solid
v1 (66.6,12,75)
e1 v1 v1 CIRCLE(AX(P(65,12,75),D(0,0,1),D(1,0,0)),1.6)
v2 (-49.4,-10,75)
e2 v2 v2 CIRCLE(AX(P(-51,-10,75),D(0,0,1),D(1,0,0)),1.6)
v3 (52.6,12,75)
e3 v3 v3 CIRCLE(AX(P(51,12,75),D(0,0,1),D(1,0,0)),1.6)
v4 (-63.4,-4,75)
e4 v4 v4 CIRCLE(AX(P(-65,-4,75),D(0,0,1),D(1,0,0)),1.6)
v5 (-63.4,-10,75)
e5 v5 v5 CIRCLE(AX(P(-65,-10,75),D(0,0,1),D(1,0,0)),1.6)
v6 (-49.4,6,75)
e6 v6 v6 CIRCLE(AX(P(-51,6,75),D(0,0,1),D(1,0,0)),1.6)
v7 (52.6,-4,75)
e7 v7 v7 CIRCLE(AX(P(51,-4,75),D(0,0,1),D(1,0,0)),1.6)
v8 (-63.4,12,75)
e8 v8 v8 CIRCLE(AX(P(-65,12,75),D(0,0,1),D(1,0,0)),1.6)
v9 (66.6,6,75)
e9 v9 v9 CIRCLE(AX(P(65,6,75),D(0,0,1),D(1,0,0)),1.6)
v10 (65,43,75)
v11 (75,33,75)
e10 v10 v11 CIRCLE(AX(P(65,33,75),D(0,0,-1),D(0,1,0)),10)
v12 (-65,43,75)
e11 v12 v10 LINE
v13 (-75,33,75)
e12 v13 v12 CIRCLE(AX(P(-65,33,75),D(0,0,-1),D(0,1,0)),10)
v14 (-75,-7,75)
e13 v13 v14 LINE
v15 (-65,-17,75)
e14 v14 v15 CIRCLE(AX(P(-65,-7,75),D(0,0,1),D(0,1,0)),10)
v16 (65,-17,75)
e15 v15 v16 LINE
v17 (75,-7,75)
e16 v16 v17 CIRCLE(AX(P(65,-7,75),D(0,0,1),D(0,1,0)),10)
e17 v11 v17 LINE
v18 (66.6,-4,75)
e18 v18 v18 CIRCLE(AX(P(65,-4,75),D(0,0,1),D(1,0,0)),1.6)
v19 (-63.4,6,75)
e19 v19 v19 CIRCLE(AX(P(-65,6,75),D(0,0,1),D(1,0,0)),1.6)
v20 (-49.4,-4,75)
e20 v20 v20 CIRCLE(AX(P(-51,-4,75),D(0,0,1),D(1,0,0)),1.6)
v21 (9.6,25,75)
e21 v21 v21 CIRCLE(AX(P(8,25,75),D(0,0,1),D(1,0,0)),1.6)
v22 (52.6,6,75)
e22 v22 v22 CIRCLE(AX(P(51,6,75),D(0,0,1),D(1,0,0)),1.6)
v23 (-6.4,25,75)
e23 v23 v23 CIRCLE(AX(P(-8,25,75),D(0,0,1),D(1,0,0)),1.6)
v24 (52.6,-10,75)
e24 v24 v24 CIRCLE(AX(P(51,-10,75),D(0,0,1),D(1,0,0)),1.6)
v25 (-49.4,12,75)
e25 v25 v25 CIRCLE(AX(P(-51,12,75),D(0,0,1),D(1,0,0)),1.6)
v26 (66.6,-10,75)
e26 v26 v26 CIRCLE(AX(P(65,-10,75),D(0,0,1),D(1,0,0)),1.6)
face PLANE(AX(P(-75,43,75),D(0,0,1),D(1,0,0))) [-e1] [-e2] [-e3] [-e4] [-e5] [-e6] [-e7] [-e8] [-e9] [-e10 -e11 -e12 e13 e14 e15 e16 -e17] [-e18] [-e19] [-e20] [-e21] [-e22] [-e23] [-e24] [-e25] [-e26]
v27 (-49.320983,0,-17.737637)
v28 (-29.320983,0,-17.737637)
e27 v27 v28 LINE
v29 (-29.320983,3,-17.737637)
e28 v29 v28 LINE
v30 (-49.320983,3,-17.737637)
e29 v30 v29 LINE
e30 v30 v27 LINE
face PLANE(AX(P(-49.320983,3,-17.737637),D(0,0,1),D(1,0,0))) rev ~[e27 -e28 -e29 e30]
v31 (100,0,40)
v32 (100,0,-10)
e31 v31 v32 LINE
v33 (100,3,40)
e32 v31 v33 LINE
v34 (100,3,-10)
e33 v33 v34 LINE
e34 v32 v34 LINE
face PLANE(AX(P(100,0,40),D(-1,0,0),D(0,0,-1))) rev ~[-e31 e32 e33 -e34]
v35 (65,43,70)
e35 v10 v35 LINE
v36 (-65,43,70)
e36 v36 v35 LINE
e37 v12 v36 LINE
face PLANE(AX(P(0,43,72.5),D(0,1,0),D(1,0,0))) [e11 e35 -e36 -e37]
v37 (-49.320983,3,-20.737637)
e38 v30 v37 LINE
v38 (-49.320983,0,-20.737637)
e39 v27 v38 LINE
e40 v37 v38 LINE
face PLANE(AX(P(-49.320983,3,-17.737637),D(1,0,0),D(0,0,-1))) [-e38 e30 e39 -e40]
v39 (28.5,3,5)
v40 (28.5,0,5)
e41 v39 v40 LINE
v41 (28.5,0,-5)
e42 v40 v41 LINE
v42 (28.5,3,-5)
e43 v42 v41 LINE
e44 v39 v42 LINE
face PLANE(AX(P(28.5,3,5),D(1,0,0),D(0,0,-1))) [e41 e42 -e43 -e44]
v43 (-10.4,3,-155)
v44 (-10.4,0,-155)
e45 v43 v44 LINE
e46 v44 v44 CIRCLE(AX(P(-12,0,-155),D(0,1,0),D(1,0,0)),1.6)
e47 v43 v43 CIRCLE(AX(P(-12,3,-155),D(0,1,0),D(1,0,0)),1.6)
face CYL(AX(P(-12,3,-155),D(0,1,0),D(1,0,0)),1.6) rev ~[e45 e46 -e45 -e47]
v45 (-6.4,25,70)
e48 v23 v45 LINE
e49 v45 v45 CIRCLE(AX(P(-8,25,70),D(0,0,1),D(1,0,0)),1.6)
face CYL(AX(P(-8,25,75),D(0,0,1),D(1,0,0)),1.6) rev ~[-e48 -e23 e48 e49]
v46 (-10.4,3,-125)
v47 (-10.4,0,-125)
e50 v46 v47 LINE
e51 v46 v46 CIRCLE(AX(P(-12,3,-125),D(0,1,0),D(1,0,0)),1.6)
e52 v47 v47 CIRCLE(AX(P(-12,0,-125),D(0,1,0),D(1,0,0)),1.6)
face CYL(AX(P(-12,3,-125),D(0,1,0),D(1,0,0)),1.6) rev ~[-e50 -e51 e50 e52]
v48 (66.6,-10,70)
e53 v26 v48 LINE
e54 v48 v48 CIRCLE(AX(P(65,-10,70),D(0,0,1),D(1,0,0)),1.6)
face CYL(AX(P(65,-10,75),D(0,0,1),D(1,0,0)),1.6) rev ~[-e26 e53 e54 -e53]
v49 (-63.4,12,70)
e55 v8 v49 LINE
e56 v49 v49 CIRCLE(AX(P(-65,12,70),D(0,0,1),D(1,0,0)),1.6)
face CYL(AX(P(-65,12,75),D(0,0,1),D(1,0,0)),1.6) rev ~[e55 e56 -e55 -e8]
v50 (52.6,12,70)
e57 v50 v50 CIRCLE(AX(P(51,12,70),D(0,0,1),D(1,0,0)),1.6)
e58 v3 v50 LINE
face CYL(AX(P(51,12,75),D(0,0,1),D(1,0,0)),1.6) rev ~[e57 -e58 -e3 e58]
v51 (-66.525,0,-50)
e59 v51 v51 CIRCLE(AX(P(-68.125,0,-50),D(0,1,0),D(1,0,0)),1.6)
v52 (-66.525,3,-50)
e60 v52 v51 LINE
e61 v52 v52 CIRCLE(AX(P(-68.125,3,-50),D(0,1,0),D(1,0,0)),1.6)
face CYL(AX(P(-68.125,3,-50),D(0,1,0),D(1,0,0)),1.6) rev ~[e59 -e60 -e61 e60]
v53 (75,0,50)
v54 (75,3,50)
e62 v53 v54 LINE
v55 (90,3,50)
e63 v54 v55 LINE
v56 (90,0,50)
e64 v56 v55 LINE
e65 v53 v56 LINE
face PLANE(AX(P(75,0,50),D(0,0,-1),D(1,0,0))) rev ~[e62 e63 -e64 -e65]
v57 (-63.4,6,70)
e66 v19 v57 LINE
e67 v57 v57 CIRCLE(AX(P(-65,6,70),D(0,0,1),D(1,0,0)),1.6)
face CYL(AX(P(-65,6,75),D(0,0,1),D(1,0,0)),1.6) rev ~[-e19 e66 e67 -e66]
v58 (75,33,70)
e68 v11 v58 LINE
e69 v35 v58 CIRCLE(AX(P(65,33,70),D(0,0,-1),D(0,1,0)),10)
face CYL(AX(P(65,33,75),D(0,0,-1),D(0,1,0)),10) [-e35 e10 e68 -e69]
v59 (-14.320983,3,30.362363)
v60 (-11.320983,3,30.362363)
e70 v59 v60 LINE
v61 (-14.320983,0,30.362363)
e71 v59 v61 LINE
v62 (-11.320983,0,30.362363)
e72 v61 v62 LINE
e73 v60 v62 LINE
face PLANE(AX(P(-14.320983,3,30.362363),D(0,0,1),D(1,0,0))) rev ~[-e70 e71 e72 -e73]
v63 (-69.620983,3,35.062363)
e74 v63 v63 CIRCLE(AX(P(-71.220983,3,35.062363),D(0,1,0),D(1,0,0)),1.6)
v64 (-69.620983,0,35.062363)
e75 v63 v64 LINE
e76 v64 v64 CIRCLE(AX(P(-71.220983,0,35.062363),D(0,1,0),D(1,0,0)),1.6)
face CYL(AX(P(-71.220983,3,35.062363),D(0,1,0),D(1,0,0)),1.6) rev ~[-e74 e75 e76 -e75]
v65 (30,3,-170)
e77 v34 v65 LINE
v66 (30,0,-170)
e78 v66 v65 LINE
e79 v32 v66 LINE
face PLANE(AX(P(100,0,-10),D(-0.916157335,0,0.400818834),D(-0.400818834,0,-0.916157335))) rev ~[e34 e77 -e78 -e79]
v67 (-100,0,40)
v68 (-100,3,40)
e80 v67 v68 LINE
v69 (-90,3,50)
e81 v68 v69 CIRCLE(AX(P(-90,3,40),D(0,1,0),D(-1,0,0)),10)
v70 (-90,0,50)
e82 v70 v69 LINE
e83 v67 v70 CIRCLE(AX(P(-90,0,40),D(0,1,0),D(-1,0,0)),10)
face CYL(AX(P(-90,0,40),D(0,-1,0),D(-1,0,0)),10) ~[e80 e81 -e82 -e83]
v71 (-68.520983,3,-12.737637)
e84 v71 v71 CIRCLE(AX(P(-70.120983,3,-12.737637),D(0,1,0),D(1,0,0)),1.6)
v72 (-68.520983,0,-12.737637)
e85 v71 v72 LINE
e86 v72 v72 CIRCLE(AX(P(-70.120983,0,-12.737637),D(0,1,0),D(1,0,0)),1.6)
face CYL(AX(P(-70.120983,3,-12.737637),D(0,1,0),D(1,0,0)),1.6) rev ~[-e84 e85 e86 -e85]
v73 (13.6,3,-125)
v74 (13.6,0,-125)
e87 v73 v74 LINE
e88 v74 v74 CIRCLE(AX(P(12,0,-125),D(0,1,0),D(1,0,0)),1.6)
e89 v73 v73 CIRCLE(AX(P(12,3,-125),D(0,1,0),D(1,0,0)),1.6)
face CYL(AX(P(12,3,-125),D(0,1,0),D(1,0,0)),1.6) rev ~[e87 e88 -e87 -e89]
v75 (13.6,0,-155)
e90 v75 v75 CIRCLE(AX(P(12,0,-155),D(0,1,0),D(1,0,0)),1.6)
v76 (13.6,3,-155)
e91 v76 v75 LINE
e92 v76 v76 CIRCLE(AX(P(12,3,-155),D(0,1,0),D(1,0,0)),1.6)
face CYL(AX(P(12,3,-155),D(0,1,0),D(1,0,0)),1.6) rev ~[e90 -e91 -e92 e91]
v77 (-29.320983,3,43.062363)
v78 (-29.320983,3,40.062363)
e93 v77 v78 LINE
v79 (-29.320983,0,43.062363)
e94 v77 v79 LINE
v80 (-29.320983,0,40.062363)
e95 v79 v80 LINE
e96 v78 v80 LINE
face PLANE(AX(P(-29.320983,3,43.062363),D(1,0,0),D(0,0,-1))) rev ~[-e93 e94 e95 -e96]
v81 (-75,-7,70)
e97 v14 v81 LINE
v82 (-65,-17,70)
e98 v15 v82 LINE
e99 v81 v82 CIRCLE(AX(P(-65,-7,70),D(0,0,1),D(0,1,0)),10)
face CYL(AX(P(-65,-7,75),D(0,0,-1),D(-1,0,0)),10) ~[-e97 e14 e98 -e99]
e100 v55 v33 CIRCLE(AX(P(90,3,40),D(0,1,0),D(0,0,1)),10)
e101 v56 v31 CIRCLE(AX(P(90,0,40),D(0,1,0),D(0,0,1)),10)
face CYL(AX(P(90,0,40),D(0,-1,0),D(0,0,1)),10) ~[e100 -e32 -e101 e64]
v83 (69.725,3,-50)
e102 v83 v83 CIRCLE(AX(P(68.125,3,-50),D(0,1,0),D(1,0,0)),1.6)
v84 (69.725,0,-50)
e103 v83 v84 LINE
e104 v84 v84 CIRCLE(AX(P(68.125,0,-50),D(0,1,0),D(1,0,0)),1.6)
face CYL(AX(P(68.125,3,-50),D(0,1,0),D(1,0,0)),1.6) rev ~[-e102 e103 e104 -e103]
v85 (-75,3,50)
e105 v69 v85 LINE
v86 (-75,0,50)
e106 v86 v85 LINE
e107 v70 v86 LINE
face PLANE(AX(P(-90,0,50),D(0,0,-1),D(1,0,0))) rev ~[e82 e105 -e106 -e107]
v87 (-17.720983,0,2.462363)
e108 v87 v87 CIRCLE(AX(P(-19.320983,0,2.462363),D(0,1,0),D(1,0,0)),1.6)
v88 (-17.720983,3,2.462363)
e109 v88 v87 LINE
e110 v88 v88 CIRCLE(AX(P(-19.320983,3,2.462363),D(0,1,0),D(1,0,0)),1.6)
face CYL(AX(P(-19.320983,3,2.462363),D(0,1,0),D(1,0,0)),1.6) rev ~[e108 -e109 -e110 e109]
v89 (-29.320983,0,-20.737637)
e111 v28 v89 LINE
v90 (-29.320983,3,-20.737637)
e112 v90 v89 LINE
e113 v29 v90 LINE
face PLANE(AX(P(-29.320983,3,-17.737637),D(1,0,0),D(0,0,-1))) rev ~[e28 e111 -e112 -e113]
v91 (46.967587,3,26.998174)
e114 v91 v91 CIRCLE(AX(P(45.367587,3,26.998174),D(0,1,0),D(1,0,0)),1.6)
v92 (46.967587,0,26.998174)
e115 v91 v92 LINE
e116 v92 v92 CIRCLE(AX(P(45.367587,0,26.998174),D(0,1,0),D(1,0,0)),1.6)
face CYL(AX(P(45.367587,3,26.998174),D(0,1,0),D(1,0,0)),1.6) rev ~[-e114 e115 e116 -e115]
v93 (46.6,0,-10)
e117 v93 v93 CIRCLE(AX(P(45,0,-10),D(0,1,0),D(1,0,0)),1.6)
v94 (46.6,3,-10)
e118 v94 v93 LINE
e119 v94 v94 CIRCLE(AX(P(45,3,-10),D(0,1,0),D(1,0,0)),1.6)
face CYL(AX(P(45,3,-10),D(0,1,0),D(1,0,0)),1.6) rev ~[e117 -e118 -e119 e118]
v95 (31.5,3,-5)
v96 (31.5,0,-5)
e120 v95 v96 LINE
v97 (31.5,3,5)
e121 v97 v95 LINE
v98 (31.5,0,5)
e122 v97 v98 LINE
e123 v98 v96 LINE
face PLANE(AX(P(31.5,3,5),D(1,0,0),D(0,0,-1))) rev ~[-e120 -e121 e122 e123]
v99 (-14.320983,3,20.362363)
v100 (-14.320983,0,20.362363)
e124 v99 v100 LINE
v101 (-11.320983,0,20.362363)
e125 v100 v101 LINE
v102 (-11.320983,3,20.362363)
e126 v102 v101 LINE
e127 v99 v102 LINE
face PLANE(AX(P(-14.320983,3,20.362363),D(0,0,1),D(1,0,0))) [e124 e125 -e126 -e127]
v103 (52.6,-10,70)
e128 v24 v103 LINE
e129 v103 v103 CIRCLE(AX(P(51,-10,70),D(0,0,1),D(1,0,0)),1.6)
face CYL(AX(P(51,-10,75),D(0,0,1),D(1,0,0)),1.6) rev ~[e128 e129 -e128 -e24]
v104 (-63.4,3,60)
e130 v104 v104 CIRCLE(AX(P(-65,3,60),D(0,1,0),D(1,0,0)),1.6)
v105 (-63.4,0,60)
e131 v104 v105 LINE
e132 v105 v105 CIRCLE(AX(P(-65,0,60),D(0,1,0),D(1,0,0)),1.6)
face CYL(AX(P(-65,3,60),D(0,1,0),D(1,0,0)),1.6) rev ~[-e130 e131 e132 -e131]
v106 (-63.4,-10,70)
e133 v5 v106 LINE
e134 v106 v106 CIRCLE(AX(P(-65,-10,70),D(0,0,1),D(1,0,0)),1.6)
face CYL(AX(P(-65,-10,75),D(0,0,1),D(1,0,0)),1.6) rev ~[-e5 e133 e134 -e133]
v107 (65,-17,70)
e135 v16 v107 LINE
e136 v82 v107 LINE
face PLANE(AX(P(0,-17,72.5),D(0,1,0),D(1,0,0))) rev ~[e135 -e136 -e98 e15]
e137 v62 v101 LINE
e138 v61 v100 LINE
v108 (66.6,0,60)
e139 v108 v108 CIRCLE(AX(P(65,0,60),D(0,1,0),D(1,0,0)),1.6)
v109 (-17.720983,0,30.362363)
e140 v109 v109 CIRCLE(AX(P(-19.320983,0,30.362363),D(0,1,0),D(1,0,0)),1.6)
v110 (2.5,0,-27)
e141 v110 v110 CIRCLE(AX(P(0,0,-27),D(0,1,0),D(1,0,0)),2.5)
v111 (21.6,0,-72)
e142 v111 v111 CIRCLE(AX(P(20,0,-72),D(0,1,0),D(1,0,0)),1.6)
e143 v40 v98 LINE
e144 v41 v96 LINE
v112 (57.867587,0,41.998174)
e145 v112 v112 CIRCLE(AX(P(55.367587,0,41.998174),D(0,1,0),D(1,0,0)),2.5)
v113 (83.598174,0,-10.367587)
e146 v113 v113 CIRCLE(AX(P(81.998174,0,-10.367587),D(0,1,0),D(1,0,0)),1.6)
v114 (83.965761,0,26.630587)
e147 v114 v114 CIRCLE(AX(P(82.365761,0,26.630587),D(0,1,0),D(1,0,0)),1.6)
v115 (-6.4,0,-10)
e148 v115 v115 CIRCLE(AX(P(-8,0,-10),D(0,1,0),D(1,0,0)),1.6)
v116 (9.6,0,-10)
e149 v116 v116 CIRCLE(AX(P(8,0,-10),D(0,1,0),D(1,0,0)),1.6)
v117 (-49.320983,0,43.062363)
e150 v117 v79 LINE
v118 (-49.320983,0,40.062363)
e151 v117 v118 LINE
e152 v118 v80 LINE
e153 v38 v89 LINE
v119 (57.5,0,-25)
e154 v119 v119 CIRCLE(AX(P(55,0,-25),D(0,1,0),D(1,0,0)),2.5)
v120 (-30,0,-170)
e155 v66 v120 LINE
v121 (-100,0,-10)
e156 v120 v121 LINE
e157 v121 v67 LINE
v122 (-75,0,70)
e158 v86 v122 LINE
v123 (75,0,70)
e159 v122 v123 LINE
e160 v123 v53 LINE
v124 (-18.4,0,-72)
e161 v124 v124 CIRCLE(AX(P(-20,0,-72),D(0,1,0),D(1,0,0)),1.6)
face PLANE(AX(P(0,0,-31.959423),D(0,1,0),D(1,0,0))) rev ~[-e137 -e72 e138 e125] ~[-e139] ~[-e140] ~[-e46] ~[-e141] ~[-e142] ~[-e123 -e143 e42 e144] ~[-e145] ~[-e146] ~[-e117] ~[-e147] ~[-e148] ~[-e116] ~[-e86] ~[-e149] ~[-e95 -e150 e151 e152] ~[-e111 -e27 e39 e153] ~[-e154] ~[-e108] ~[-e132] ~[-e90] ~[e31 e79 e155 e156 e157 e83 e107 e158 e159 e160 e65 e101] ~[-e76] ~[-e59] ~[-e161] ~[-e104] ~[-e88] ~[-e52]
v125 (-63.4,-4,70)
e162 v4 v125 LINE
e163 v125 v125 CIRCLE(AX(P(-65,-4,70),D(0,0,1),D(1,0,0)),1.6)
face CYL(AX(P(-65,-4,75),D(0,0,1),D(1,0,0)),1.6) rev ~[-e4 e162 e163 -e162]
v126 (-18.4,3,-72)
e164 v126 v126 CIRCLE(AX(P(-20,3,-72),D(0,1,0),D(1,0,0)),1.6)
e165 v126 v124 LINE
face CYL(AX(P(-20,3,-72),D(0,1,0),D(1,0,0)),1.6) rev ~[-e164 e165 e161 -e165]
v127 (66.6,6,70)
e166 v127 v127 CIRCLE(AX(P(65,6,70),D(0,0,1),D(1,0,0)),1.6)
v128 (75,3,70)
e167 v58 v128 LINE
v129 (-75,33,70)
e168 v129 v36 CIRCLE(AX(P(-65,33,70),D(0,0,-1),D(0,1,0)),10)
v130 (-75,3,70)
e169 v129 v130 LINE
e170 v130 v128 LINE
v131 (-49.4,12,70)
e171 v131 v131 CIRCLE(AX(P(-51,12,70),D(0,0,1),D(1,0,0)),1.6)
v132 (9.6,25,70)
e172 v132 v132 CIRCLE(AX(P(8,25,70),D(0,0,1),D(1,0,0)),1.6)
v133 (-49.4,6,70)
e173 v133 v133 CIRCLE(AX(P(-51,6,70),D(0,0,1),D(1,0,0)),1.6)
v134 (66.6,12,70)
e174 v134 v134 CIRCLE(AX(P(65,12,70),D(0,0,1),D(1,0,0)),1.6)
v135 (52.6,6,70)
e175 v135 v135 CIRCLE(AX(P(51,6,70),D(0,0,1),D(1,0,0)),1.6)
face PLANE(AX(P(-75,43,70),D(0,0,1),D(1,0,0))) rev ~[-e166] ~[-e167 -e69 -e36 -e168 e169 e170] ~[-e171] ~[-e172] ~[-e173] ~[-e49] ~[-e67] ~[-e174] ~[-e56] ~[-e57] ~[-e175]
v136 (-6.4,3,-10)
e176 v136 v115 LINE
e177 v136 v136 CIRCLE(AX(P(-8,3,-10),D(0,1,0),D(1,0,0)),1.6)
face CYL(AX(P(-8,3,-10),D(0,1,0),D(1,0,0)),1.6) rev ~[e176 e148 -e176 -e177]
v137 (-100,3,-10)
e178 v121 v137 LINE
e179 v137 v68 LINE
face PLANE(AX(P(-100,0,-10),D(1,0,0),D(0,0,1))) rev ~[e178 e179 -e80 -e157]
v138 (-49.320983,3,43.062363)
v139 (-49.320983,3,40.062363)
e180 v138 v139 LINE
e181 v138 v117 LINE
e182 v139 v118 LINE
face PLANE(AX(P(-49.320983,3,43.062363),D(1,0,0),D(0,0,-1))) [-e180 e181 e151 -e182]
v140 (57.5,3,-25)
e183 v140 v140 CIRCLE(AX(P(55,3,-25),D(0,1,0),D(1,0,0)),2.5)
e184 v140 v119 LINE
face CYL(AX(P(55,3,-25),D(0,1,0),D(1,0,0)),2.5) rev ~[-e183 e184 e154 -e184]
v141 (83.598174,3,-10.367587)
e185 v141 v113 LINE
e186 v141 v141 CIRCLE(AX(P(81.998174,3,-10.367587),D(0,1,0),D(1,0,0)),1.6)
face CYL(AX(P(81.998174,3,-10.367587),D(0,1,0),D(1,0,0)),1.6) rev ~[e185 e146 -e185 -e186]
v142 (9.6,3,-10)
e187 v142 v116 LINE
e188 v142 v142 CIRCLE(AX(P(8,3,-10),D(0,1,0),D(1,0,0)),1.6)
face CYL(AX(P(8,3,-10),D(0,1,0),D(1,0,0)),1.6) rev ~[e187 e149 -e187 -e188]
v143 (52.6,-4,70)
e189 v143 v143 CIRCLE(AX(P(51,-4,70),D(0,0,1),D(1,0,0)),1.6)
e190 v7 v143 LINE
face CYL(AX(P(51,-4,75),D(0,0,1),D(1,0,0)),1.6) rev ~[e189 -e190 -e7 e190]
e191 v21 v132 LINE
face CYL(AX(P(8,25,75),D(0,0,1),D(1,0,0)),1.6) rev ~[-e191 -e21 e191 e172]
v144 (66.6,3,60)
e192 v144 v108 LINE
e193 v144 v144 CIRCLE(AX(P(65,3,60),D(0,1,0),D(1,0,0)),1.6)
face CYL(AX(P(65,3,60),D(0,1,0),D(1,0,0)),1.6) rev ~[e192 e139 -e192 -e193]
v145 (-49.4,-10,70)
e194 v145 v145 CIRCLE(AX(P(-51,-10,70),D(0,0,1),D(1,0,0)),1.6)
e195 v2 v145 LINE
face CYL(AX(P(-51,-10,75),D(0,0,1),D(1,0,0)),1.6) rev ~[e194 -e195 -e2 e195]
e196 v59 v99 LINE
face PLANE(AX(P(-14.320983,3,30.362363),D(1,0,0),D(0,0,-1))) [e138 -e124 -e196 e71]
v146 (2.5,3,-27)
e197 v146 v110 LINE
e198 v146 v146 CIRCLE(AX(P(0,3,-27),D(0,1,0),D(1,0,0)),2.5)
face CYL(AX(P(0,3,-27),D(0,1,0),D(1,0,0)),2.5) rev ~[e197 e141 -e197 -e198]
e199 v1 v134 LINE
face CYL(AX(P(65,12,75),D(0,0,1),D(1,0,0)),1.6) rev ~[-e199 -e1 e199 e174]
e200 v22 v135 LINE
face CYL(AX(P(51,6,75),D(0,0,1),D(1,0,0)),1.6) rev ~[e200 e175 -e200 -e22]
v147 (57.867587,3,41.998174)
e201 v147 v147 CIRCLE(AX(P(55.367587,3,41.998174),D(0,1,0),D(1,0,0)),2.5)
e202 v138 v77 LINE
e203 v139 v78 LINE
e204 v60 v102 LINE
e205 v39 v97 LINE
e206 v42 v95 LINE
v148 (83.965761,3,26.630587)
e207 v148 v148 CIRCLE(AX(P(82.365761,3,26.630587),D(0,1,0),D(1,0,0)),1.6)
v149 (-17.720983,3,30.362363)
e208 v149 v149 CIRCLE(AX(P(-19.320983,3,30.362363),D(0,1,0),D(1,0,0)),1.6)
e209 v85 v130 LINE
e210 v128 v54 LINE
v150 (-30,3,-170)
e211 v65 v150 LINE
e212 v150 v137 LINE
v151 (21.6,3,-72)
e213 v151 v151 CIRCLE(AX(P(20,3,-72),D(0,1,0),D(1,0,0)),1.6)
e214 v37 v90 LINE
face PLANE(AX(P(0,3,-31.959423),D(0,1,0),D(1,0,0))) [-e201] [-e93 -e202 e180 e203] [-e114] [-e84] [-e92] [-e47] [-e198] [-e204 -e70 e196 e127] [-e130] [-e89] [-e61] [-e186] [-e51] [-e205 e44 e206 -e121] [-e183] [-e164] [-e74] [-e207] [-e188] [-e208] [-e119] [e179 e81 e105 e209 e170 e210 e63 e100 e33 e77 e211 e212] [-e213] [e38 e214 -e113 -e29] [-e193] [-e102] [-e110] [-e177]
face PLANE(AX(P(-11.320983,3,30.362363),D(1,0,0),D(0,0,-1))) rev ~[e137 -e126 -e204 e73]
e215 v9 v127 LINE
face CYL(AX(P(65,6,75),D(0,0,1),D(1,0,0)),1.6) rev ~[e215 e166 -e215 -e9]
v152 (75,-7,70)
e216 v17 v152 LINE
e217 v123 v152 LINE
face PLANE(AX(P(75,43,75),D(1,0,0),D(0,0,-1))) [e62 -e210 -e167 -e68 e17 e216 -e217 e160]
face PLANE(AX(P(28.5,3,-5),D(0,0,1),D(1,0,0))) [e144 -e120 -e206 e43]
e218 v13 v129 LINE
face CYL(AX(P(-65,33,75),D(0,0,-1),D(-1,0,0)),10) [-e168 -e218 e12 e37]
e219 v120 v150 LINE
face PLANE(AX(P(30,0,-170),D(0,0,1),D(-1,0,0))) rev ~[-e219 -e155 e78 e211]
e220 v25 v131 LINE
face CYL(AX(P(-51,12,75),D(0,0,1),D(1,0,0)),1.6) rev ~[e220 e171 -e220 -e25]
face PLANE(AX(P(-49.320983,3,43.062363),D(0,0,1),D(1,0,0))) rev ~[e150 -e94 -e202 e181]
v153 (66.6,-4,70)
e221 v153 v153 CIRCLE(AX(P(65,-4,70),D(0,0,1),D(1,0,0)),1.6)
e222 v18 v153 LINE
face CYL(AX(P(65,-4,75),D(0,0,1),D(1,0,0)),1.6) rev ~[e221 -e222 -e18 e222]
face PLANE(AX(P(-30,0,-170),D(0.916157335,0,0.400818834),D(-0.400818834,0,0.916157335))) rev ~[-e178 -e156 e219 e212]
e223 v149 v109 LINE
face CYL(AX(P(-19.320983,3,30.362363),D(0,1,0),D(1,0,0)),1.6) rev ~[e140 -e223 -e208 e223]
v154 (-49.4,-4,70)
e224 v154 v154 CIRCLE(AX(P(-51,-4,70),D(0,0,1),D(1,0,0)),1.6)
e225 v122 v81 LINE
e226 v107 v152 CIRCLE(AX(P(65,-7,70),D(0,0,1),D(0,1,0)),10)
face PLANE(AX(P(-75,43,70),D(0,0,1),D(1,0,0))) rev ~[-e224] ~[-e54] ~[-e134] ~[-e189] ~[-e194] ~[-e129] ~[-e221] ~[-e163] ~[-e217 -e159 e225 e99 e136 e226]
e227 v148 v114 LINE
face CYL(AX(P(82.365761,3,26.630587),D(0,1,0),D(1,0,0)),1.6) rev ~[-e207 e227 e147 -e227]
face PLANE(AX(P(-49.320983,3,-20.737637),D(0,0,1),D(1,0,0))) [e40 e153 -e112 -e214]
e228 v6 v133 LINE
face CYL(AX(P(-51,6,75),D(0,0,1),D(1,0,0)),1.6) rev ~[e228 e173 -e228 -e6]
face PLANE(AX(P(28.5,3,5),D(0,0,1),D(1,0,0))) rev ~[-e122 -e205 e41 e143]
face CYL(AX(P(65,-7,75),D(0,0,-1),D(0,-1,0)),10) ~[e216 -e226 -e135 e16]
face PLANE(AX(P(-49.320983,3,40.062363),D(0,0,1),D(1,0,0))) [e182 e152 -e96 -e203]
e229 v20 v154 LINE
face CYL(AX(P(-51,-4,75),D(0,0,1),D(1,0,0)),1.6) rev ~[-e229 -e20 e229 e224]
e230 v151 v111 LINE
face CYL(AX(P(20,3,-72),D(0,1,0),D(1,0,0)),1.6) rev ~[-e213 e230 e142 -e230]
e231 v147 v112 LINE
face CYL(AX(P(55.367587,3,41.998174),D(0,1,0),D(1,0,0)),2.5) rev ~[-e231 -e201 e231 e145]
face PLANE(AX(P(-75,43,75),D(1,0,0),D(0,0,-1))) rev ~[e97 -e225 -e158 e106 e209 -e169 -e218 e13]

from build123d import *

# Parameters (mm, degrees)
BOSS_EXTRUDE1_DEPTH = 3
SKETCH3_R           = 1.6
SKETCH3_W           = 20
SKETCH3_H           = 3
SKETCH3_W_2         = 3
SKETCH3_H_2         = 10
ARDUINO_DEPTH       = 4
SKETCH6_R           = 1.6
CUT_EXTRUDE4_DEPTH  = 4
SKETCH8_R           = 1.6
CUT_EXTRUDE5_DEPTH  = 10
SKETCH9_R           = 1.6
SKETCH9_R_2         = 2.5
SKETCH9_W           = 3
SKETCH9_H           = 10
L298N_DEPTH         = 10
SKETCH11_W          = 150
SKETCH11_H          = 5
BOSS_EXTRUDE3_DEPTH = 60
FILLET1_R           = 10
SKETCH12_R          = 1.6
CUT_EXTRUDE6_DEPTH  = 10


with BuildPart() as part:
    # Sketch1 → Boss-Extrude1 (new body)
    with BuildSketch(Plane(origin=(0, 0, 0), x_dir=(1, 0, 0), z_dir=(0, 1, 0))):
        with BuildLine():
            Line((100, -40), (100, 10))
            Line((100, 10), (30, 170))
            Line((30, 170), (-30, 170))
            Line((-30, 170), (-100, 10))
            Line((-100, 10), (-100, -40))
            ThreePointArc((-100, -40), (-97.071067812, -47.071067812), (-90, -50))
            Line((-90, -50), (-75, -50))
            Line((-75, -50), (-75, -70))
            Line((-75, -70), (75, -70))
            Line((75, -70), (75, -50))
            Line((75, -50), (90, -50))
            ThreePointArc((90, -50), (97.071067812, -47.071067812), (100, -40))
        make_face()
    extrude(amount=BOSS_EXTRUDE1_DEPTH)

    # Sketch3 → arduino (cut, through all)
    with BuildSketch(Plane(origin=(0, 3, 0), x_dir=(1, 0, 0), z_dir=(0, 1, 0))):
        with Locations((-70.120983048, 12.737637313)):
            Circle(SKETCH3_R)
        with Locations((-71.220983048, -35.062362687)):
            Circle(SKETCH3_R)
        with Locations((-19.320983048, -2.462362687)):
            Circle(SKETCH3_R)
        with Locations((-19.320983048, -30.362362687)):
            Circle(SKETCH3_R)
        with Locations((-39.320983048, -41.562362687)):
            Rectangle(SKETCH3_W, SKETCH3_H)
        with Locations((-39.320983048, 19.237637313)):
            Rectangle(SKETCH3_W, SKETCH3_H)
        with Locations((-12.820983048, -25.362362687)):
            Rectangle(SKETCH3_W_2, SKETCH3_H_2)
    extrude(amount=-ARDUINO_DEPTH, mode=Mode.SUBTRACT)

    # Sketch6 → Cut-Extrude4 (cut, through all)
    with BuildSketch(Plane(origin=(0, 3, 0), x_dir=(1, 0, 0), z_dir=(0, 1, 0))):
        with Locations((12, 155)):
            Circle(SKETCH6_R)
        with Locations((-12, 155)):
            Circle(SKETCH6_R)
        with Locations((12, 125)):
            Circle(SKETCH6_R)
        with Locations((-12, 125)):
            Circle(SKETCH6_R)
    extrude(amount=-CUT_EXTRUDE4_DEPTH, mode=Mode.SUBTRACT)

    # Sketch8 → Cut-Extrude5 (cut)
    with BuildSketch(Plane(origin=(0, 3, 0), x_dir=(1, 0, 0), z_dir=(0, 1, 0))):
        with Locations((8, 10)):
            Circle(SKETCH8_R)
        with Locations((-8, 10)):
            Circle(SKETCH8_R)
        with Locations((-65, -60)):
            Circle(SKETCH8_R)
        with Locations((65, -60)):
            Circle(SKETCH8_R)
    extrude(amount=-CUT_EXTRUDE5_DEPTH, mode=Mode.SUBTRACT)

    # Sketch9 → l298n (cut)
    with BuildSketch(Plane(origin=(0, 3, 0), x_dir=(1, 0, 0), z_dir=(0, 1, 0))):
        with Locations((20, 72)):
            Circle(SKETCH9_R)
        with Locations((-20, 72)):
            Circle(SKETCH9_R)
        with Locations((45, 10)):
            Circle(SKETCH9_R)
        with Locations((81.998174007, 10.367586933)):
            Circle(SKETCH9_R)
        with Locations((82.36576094, -26.630587074)):
            Circle(SKETCH9_R)
        with Locations((45.367586933, -26.998174007)):
            Circle(SKETCH9_R)
        with Locations((-68.125, 50)):
            Circle(SKETCH9_R)
        with Locations((68.125, 50)):
            Circle(SKETCH9_R)
        with Locations((55, 25)):
            Circle(SKETCH9_R_2)
        with Locations((55.367586933, -41.998174007)):
            Circle(SKETCH9_R_2)
        with Locations((0, 27)):
            Circle(SKETCH9_R_2)
        with Locations((30, 0)):
            Rectangle(SKETCH9_W, SKETCH9_H)
    extrude(amount=-L298N_DEPTH, mode=Mode.SUBTRACT)

    # Sketch11 → Boss-Extrude3 (add)
    with BuildSketch(Plane(origin=(0, 43, 0), x_dir=(1, 0, 0), z_dir=(0, 1, 0))):
        with Locations((0, -72.5)):
            Rectangle(SKETCH11_W, SKETCH11_H)
    extrude(amount=-BOSS_EXTRUDE3_DEPTH)

    # Fillet1
    fillet1_edges = [part.edges().sort_by_distance(p)[0] for p in [
        (-75, -17, 72.5),
        (75, -17, 72.5),
        (-75, 43, 72.5),
        (75, 43, 72.5),
    ]]
    fillet(fillet1_edges, radius=FILLET1_R)

    # Sketch12 → Cut-Extrude6 (cut)
    with BuildSketch(Plane.XY.offset(75)):
        with Locations((-65, -10)):
            Circle(SKETCH12_R)
        with Locations((-51, -10)):
            Circle(SKETCH12_R)
        with Locations((-65, -4)):
            Circle(SKETCH12_R)
        with Locations((-65, 6)):
            Circle(SKETCH12_R)
        with Locations((-65, 12)):
            Circle(SKETCH12_R)
        with Locations((-51, 12)):
            Circle(SKETCH12_R)
        with Locations((-51, 6)):
            Circle(SKETCH12_R)
        with Locations((-51, -4)):
            Circle(SKETCH12_R)
        with Locations((51, -10)):
            Circle(SKETCH12_R)
        with Locations((65, -10)):
            Circle(SKETCH12_R)
        with Locations((51, -4)):
            Circle(SKETCH12_R)
        with Locations((51, 6)):
            Circle(SKETCH12_R)
        with Locations((51, 12)):
            Circle(SKETCH12_R)
        with Locations((65, -4)):
            Circle(SKETCH12_R)
        with Locations((65, 6)):
            Circle(SKETCH12_R)
        with Locations((65, 12)):
            Circle(SKETCH12_R)
        with Locations((-8, 25)):
            Circle(SKETCH12_R)
        with Locations((8, 25)):
            Circle(SKETCH12_R)
    extrude(amount=-CUT_EXTRUDE6_DEPTH, mode=Mode.SUBTRACT)


solid = part.part
